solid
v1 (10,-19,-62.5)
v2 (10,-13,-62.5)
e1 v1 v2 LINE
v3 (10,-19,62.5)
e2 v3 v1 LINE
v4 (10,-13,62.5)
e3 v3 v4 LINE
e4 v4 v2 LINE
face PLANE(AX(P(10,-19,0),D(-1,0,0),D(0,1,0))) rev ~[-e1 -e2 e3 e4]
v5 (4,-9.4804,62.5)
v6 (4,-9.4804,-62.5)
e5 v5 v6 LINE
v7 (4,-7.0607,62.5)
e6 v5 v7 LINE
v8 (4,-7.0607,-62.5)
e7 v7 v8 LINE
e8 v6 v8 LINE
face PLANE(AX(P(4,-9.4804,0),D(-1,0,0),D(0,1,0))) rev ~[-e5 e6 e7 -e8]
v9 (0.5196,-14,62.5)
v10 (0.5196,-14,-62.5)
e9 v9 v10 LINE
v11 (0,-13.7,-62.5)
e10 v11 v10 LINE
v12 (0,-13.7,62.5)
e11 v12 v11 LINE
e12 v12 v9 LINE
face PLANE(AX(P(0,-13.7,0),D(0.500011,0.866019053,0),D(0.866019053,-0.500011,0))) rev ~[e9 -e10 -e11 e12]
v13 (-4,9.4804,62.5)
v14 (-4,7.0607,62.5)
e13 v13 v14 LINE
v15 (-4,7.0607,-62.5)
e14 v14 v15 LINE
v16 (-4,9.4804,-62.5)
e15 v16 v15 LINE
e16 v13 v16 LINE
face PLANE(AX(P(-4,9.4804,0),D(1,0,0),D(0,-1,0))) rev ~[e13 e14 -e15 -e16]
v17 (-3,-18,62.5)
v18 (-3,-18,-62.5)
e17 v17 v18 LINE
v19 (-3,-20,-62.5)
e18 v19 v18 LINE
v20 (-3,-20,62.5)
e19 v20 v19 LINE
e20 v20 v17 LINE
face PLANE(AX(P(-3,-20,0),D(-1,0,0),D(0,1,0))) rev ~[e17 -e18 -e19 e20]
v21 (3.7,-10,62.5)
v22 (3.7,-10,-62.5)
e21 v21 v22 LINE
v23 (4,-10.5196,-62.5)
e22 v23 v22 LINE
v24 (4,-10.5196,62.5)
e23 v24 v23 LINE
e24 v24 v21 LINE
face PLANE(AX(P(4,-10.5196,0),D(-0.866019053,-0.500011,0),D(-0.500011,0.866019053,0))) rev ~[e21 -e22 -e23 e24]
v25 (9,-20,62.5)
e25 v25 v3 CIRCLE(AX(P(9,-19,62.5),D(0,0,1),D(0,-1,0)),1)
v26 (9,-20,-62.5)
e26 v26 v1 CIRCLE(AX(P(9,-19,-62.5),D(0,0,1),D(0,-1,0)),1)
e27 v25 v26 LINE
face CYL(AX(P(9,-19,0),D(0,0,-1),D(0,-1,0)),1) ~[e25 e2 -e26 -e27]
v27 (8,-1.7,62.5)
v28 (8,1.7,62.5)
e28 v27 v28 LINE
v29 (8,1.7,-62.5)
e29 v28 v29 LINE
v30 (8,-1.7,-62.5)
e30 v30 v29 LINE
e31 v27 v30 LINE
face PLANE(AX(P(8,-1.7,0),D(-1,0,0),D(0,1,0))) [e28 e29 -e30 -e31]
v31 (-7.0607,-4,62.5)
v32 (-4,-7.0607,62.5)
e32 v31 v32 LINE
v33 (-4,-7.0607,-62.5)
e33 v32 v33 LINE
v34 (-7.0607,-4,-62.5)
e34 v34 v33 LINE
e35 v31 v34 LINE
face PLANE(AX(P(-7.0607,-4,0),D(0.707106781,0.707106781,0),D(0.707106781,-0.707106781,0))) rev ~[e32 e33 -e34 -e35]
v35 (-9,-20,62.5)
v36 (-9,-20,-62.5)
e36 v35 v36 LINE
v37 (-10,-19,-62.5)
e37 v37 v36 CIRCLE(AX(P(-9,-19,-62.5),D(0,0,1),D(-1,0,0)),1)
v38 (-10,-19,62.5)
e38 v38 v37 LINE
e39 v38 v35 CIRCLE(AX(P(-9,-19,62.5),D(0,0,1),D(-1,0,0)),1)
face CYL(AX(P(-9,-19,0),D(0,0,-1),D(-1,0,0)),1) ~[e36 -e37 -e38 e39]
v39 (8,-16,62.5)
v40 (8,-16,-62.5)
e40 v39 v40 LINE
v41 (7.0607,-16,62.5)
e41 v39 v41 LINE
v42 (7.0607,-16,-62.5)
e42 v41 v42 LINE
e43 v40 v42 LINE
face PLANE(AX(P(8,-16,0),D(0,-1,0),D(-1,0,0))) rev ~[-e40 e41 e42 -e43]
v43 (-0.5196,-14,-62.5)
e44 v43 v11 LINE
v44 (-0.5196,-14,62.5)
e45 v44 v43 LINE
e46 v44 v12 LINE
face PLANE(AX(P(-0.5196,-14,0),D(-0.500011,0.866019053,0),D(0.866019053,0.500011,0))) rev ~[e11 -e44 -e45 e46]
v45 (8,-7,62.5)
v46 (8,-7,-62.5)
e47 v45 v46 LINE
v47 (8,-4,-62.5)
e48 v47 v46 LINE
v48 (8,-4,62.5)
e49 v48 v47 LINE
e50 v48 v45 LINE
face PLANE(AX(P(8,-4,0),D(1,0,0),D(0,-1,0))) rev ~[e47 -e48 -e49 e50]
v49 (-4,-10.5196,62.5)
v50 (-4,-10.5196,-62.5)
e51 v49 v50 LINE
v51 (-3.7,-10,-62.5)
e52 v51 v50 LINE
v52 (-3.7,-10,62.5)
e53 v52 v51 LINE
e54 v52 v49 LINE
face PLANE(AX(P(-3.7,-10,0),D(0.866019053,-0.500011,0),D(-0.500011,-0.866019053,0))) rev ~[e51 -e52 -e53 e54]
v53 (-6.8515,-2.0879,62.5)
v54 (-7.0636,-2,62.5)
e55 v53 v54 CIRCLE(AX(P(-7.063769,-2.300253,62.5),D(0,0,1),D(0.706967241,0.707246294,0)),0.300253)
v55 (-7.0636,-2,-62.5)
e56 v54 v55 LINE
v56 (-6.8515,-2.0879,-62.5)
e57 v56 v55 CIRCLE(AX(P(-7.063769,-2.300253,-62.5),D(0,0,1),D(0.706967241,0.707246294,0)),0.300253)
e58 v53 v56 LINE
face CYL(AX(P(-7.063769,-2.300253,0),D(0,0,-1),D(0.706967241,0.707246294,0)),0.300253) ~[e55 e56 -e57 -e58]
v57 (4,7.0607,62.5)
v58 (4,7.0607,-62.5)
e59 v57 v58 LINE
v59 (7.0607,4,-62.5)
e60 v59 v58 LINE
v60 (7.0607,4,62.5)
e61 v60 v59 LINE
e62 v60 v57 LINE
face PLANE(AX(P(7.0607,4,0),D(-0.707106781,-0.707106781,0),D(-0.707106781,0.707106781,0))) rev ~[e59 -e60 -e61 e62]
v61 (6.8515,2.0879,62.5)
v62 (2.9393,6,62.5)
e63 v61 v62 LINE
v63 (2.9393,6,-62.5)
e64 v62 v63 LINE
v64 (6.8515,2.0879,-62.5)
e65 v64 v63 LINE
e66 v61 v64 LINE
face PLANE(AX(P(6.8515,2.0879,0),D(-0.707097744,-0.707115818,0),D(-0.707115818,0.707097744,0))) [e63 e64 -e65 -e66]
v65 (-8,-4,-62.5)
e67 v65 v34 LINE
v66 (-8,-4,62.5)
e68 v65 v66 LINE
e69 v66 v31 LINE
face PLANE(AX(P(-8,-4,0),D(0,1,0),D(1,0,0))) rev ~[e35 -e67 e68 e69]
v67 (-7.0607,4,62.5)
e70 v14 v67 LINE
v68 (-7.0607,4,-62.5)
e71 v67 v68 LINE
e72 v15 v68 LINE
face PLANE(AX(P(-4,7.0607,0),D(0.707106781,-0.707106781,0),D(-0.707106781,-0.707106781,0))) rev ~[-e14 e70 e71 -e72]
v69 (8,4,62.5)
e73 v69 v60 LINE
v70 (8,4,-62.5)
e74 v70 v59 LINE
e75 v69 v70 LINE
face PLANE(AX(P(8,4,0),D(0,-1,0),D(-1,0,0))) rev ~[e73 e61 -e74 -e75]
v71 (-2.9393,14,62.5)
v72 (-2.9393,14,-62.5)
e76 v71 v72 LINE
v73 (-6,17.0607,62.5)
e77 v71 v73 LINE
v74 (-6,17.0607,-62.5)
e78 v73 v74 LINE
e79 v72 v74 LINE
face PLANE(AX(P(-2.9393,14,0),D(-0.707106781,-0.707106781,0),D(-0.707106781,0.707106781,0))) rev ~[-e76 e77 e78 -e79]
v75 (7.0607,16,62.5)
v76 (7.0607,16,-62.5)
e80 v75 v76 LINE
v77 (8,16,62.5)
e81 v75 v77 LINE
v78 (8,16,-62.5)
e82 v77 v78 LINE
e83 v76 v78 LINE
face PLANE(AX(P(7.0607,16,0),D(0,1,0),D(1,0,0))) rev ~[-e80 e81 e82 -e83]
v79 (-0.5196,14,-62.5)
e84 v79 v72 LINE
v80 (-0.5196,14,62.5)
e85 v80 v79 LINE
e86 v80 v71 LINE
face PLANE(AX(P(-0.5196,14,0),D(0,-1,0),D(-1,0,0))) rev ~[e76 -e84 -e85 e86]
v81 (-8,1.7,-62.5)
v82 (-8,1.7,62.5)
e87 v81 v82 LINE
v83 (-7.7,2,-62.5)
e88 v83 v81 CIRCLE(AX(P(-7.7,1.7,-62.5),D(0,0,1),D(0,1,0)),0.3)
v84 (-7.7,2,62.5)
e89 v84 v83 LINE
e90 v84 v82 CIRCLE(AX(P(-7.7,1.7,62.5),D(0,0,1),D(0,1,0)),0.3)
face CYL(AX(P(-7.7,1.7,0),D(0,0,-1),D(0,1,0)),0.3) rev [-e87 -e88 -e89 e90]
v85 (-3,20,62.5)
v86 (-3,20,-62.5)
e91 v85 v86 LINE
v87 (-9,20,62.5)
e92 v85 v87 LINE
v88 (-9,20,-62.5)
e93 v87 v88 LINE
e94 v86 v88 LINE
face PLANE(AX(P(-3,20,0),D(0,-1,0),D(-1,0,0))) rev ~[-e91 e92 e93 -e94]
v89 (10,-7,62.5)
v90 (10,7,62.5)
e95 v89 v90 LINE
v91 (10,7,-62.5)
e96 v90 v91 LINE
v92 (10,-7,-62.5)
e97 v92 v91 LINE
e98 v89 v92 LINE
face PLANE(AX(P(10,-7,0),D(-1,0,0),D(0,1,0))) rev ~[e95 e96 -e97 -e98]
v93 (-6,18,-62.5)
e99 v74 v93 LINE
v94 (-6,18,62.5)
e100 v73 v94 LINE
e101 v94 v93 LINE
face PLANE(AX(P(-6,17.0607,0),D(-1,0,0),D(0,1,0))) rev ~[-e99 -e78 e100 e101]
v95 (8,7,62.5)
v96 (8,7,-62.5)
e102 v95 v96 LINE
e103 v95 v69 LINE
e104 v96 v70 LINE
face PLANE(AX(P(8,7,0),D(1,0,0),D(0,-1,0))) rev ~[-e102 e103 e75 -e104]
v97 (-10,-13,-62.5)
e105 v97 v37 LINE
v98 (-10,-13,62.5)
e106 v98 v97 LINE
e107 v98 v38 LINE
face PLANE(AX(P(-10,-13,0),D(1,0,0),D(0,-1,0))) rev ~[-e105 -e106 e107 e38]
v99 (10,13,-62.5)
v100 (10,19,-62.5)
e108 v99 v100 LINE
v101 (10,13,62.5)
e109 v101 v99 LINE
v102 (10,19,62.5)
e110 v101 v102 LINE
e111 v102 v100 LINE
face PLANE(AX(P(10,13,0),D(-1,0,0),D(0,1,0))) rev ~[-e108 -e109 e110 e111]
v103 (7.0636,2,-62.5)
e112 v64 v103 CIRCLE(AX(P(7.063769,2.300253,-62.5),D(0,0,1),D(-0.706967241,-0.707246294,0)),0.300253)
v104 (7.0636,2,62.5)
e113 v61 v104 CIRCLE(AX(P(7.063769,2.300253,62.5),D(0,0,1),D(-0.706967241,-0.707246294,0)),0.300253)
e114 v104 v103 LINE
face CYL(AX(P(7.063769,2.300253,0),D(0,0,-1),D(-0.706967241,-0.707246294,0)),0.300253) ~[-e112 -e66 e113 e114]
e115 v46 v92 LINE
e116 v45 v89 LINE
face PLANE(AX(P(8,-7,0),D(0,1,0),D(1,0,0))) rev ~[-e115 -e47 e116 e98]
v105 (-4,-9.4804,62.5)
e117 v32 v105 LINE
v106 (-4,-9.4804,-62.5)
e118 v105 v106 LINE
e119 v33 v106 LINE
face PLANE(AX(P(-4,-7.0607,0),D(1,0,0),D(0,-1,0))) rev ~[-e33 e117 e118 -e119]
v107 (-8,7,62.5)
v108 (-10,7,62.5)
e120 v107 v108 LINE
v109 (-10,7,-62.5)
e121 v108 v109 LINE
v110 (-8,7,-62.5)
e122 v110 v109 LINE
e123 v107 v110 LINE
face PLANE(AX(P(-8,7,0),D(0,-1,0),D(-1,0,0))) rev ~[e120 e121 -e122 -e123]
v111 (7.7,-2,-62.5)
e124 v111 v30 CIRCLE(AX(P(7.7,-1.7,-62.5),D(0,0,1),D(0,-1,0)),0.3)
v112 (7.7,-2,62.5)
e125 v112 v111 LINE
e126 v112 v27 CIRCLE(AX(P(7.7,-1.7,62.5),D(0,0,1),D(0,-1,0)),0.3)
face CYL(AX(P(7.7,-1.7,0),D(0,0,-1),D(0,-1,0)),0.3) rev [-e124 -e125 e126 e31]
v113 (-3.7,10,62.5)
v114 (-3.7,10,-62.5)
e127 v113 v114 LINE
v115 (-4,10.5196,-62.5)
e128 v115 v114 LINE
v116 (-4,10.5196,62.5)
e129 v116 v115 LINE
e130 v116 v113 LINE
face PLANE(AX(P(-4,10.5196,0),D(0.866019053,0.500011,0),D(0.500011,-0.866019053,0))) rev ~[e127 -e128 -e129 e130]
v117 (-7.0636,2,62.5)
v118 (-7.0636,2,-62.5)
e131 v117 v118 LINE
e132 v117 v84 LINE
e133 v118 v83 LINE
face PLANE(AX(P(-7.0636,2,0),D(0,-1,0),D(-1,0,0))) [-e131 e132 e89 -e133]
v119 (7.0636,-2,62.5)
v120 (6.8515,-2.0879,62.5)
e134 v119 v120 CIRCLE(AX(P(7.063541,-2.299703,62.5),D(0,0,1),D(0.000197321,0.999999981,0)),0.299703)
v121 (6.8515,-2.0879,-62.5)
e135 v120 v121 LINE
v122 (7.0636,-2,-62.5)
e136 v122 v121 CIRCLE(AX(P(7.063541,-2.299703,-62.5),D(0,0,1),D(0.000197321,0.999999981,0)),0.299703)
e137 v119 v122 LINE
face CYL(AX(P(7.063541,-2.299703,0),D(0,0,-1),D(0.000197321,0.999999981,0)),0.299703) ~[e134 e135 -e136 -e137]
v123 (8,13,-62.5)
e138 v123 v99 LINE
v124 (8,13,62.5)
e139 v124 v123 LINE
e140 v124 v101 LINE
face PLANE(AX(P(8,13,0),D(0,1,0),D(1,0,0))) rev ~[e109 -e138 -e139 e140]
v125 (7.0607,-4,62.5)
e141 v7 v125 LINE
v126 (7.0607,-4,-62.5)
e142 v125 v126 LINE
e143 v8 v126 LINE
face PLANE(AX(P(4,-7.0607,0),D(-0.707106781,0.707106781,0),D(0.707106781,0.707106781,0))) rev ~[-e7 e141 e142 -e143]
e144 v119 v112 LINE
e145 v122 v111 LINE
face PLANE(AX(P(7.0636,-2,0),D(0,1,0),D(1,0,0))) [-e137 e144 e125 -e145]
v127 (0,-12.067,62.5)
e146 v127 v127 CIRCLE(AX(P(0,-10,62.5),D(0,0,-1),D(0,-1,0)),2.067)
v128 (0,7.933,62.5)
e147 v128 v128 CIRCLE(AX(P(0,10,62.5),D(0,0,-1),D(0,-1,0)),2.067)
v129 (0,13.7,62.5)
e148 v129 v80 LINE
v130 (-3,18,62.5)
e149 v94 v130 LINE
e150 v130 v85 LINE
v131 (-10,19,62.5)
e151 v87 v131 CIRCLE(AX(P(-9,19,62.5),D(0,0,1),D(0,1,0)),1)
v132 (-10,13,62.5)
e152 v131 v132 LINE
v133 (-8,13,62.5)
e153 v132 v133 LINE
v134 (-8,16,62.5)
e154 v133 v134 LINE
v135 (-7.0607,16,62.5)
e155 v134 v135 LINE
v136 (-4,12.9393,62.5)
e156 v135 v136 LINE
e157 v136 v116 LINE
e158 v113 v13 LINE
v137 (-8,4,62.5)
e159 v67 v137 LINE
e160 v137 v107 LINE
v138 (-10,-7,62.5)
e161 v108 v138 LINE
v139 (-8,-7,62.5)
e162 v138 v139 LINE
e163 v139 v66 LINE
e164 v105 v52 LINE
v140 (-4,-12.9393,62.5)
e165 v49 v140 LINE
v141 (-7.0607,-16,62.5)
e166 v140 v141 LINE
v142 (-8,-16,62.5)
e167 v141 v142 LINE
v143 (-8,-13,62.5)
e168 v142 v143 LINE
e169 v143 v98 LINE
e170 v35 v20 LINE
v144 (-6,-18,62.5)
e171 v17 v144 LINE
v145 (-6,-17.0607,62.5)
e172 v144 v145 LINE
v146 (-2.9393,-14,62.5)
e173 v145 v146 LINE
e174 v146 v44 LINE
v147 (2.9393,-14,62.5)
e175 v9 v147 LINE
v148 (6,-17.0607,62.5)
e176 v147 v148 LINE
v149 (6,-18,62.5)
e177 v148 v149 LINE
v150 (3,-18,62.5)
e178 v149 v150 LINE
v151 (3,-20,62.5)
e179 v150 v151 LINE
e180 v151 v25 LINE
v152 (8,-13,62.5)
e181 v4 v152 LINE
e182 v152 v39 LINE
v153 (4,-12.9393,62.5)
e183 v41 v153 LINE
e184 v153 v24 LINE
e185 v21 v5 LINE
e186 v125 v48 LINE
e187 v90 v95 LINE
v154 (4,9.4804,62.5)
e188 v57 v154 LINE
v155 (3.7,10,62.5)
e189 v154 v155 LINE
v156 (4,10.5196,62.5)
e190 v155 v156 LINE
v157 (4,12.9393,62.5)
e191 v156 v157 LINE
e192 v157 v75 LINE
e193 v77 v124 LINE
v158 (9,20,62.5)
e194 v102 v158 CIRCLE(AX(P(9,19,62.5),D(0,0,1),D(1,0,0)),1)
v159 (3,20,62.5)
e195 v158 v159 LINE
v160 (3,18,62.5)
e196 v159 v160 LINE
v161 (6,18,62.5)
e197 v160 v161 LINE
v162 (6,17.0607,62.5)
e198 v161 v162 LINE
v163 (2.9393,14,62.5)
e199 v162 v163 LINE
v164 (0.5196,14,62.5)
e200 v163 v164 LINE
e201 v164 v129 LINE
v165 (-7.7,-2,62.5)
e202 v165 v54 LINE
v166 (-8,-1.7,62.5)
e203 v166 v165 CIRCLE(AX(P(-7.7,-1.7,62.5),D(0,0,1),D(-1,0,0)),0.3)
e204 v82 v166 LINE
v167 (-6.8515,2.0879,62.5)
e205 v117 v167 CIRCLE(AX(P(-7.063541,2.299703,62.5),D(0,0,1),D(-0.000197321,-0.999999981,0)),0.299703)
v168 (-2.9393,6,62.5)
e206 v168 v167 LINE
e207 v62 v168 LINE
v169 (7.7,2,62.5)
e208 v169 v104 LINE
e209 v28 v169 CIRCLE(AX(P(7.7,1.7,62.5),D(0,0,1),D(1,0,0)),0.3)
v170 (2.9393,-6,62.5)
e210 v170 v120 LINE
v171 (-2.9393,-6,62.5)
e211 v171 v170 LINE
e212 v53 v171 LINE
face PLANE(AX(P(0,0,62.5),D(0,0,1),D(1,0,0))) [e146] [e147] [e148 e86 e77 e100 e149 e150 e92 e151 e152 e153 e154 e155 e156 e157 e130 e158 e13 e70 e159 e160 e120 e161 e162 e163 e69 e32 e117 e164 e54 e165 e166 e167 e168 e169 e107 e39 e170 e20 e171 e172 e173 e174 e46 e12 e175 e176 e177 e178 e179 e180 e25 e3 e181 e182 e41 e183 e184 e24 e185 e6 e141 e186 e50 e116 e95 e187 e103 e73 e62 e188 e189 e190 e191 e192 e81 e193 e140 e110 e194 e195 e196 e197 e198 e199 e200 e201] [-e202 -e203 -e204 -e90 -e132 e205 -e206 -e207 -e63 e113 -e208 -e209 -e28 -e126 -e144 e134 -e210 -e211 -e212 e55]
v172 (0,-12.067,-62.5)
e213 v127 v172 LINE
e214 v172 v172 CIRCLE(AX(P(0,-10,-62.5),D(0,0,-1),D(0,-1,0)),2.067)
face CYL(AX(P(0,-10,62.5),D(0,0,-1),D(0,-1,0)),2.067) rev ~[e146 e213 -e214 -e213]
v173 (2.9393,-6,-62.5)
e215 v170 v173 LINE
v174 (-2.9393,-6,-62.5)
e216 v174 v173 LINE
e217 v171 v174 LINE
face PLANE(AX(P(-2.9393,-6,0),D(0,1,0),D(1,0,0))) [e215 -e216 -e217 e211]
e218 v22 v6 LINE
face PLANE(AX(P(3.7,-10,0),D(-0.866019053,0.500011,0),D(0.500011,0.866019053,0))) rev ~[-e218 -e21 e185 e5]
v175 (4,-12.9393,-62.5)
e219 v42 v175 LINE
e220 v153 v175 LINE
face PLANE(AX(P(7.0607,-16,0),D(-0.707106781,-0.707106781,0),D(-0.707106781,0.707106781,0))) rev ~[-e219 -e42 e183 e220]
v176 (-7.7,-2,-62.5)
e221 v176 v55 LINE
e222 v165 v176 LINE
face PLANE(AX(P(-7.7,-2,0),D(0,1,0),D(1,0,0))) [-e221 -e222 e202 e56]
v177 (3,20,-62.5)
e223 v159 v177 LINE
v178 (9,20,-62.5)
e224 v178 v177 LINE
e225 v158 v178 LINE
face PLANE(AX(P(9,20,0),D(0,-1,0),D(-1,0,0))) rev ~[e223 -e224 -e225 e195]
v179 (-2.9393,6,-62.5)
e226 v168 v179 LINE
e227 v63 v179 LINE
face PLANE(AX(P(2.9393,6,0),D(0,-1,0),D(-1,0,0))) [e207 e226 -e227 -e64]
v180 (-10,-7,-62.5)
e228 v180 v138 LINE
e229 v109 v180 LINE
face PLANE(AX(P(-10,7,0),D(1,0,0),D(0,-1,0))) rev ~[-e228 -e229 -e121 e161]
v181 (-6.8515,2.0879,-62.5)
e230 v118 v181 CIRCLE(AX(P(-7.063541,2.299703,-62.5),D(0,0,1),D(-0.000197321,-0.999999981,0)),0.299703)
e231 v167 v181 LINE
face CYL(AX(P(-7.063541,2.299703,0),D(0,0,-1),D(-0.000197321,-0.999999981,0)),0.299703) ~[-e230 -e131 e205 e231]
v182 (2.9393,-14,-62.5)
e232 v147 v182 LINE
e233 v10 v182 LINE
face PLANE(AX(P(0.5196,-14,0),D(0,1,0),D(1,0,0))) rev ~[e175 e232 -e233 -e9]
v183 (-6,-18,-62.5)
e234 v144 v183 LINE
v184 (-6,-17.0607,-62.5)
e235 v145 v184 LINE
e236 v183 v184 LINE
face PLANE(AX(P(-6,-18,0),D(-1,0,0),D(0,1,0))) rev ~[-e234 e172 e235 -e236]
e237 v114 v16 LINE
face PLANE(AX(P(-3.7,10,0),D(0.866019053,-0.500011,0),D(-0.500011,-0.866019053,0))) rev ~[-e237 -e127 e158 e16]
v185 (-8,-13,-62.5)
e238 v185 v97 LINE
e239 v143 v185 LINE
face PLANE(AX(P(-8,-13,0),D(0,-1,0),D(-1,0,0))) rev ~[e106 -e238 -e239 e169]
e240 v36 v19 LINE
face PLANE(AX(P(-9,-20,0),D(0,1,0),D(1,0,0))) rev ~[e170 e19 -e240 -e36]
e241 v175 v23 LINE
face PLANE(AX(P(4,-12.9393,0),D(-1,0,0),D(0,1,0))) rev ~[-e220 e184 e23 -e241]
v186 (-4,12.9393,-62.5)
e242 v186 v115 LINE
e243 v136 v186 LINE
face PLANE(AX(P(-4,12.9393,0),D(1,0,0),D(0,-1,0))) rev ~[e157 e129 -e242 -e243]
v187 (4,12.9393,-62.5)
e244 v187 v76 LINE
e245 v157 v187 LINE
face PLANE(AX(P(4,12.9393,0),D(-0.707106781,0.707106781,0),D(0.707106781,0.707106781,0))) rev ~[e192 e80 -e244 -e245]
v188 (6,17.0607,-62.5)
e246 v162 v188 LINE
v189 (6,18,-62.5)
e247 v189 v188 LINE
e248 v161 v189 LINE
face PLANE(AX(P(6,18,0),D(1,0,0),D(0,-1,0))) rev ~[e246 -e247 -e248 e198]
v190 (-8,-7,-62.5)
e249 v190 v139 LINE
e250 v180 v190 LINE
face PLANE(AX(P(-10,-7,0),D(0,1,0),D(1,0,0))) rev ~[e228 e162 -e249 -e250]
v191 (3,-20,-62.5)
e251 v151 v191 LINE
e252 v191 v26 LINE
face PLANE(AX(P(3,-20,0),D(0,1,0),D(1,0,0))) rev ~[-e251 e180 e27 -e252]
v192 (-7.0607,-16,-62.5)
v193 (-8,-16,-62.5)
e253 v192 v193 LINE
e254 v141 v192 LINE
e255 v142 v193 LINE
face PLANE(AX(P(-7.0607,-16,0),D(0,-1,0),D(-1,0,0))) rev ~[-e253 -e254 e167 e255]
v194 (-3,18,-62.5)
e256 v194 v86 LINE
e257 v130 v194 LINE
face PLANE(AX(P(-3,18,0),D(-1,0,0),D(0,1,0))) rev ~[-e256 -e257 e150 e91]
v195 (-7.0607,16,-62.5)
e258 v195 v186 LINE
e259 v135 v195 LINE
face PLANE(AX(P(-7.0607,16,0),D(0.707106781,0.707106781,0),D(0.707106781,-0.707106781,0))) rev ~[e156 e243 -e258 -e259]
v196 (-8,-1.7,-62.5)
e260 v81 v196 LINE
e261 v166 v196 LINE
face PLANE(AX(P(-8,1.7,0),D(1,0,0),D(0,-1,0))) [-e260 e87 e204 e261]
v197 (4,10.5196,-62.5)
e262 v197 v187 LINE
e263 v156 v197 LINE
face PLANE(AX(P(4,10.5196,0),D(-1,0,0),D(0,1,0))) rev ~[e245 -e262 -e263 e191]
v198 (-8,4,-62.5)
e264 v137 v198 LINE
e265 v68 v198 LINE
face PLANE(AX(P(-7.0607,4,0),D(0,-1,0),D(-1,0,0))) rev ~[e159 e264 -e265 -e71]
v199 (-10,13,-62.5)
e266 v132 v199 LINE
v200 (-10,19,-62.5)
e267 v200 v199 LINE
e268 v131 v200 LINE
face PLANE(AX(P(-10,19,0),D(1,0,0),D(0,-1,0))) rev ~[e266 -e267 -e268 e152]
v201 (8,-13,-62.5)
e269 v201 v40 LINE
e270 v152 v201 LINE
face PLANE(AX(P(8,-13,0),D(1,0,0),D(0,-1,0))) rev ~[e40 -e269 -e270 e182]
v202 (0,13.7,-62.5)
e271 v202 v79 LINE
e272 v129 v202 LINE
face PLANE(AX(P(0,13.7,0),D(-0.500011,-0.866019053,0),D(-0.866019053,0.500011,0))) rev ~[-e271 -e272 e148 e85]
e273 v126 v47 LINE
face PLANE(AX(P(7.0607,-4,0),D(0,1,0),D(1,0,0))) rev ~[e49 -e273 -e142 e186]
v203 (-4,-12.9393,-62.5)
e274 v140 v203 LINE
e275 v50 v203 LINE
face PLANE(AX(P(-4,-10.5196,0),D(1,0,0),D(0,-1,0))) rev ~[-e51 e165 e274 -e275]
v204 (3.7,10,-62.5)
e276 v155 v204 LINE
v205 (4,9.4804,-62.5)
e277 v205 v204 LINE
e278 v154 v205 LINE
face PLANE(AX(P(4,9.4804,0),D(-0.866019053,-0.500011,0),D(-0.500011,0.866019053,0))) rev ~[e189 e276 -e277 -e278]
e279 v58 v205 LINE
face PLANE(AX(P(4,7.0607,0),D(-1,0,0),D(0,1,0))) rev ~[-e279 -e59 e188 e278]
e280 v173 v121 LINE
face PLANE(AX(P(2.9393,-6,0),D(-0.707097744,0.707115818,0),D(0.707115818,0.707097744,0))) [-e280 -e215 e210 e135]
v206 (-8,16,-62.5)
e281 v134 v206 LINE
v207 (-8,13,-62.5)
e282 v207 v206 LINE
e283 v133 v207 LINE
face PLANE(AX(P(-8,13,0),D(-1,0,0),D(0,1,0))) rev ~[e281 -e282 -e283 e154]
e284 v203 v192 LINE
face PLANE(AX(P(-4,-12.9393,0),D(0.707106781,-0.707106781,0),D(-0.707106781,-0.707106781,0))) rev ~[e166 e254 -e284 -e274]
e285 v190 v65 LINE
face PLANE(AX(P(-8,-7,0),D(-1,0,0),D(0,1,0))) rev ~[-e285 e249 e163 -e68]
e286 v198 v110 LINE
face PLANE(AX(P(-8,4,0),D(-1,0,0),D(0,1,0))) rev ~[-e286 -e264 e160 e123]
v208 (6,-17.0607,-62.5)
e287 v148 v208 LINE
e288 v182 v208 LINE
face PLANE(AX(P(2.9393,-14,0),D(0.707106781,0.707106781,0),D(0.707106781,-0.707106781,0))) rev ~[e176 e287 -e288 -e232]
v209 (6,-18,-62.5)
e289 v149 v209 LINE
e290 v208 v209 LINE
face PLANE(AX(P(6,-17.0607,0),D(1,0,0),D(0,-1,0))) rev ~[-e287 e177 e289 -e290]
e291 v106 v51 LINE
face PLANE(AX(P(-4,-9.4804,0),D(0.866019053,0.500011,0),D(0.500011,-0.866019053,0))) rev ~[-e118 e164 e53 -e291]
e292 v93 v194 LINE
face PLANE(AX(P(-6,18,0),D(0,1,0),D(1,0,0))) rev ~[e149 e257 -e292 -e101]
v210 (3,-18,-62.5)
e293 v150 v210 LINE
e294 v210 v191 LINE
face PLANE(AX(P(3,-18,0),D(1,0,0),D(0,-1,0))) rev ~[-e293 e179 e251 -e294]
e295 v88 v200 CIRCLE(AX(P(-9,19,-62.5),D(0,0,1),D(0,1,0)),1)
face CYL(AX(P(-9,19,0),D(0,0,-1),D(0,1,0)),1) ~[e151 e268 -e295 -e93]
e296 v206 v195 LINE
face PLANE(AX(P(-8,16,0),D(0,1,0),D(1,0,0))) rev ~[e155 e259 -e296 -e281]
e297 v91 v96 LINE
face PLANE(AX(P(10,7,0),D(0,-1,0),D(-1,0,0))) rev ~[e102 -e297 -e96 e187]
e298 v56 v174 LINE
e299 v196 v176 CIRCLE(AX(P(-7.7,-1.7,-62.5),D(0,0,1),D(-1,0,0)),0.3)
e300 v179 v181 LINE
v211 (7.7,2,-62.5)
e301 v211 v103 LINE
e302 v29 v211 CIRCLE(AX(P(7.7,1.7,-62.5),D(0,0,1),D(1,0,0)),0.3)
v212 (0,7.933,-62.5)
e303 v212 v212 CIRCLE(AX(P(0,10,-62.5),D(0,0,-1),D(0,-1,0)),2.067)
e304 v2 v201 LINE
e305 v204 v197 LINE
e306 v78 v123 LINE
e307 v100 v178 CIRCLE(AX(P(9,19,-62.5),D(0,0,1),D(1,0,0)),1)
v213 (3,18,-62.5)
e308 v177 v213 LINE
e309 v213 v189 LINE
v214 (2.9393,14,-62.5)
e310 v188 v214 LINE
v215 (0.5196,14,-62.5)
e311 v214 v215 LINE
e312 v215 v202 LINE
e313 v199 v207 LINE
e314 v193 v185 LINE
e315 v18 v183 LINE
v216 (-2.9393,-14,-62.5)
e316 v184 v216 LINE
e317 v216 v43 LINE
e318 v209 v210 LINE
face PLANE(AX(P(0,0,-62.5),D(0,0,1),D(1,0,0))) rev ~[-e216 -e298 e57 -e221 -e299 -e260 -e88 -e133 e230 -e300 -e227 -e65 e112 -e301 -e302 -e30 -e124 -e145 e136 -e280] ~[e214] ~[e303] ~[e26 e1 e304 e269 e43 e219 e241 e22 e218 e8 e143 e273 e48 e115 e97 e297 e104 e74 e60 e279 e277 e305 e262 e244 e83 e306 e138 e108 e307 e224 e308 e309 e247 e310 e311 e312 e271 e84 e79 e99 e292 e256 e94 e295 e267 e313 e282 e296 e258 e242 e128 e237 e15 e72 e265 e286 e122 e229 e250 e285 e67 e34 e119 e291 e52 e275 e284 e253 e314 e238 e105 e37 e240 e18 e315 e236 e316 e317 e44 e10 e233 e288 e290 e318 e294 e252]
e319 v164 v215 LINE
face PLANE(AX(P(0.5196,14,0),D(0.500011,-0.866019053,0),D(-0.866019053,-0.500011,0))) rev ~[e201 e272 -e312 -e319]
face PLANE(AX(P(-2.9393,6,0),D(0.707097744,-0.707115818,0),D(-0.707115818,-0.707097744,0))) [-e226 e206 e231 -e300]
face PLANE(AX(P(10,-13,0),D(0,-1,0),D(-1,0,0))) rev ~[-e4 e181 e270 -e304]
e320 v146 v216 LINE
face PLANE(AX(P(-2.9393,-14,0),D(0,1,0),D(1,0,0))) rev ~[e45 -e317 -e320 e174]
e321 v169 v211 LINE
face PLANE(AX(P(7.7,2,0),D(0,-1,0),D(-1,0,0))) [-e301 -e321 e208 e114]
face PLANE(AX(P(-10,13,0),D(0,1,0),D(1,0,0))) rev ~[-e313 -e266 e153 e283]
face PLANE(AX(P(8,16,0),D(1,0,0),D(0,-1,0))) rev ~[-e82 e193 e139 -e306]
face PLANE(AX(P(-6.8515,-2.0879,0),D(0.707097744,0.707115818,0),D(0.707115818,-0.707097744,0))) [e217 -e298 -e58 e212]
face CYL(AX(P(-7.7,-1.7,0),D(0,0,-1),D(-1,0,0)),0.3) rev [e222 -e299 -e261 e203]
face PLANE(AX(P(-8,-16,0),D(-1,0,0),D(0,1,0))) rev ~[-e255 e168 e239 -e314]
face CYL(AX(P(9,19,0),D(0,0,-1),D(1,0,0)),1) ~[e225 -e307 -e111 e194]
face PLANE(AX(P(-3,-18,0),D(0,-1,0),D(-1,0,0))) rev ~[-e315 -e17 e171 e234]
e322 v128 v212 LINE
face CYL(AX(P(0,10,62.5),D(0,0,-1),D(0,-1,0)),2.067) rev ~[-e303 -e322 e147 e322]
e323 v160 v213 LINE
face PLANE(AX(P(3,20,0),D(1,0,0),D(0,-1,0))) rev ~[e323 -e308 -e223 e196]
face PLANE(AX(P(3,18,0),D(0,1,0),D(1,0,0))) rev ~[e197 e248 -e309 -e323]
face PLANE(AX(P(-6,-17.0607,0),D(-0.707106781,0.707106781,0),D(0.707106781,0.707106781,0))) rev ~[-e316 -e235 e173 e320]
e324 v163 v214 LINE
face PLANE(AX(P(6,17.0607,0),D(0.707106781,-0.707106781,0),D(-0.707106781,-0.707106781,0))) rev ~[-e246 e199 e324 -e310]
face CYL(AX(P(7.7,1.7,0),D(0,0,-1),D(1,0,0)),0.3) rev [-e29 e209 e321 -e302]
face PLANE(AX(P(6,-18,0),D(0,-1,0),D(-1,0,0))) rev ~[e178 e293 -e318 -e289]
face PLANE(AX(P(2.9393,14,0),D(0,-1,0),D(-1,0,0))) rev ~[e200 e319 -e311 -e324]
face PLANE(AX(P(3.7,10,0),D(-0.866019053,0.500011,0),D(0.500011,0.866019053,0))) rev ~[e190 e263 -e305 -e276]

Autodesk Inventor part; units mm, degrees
sketch "Sketch_1" plane through (0, 0, 0) normal (0, 0, 1) x (1, 0, 0)
  line L0 (-10, -7) -> (-8, -7)
  line L1 (-8, -7) -> (-8, -4)
  line L2 (-8, -4) -> (-7.0607, -4)
  line L3 (-7.0607, -4) -> (-4, -7.0607)
  line L4 (-4, -7.0607) -> (-4, -9.4804)
  line L5 (-4, -9.4804) -> (-3.7, -10)
  line L6 (-3.7, -10) -> (-4, -10.5196)
  line L7 (-4, -10.5196) -> (-4, -12.9393)
  line L8 (-4, -12.9393) -> (-7.0607, -16)
  line L9 (-7.0607, -16) -> (-8, -16)
  line L10 (-8, -16) -> (-8, -13)
  line L11 (-8, -13) -> (-10, -13)
  line L12 (-10, -13) -> (-10, -19)
  arc A0 (-10, -19) -> (-9, -20) centre (-9, -19) ccw
  line L13 (-9, -20) -> (-3, -20)
  line L14 (-3, -20) -> (-3, -18)
  line L15 (-3, -18) -> (-6, -18)
  line L16 (-6, -18) -> (-6, -17.0607)
  line L17 (-6, -17.0607) -> (-2.9393, -14)
  line L18 (-2.9393, -14) -> (-0.5196, -14)
  line L19 (-0.5196, -14) -> (0, -13.7)
  line L20 (0, -13.7) -> (0.5196, -14)
  line L21 (0.5196, -14) -> (2.9393, -14)
  line L22 (2.9393, -14) -> (6, -17.0607)
  line L23 (6, -17.0607) -> (6, -18)
  line L24 (6, -18) -> (3, -18)
  line L25 (3, -18) -> (3, -20)
  line L26 (3, -20) -> (9, -20)
  arc A1 (9, -20) -> (10, -19) centre (9, -19) ccw
  line L27 (10, -19) -> (10, -13)
  line L28 (10, -13) -> (8, -13)
  line L29 (8, -13) -> (8, -16)
  line L30 (8, -16) -> (7.0607, -16)
  line L31 (7.0607, -16) -> (4, -12.9393)
  line L32 (4, -12.9393) -> (4, -10.5196)
  line L33 (4, -10.5196) -> (3.7, -10)
  line L34 (3.7, -10) -> (4, -9.4804)
  line L35 (4, -9.4804) -> (4, -7.0607)
  line L36 (4, -7.0607) -> (7.0607, -4)
  line L37 (7.0607, -4) -> (8, -4)
  line L38 (8, -4) -> (8, -7)
  line L39 (8, -7) -> (10, -7)
  line L40 (10, -7) -> (10, 7)
  line L41 (10, 7) -> (8, 7)
  line L42 (8, 7) -> (8, 4)
  line L43 (8, 4) -> (7.0607, 4)
  line L44 (7.0607, 4) -> (4, 7.0607)
  line L45 (4, 7.0607) -> (4, 9.4804)
  line L46 (4, 9.4804) -> (3.7, 10)
  line L47 (3.7, 10) -> (4, 10.5196)
  line L48 (4, 10.5196) -> (4, 12.9393)
  line L49 (4, 12.9393) -> (7.0607, 16)
  line L50 (7.0607, 16) -> (8, 16)
  line L51 (8, 16) -> (8, 13)
  line L52 (8, 13) -> (10, 13)
  line L53 (10, 13) -> (10, 19)
  arc A2 (10, 19) -> (9, 20) centre (9, 19) ccw
  line L54 (9, 20) -> (3, 20)
  line L55 (3, 20) -> (3, 18)
  line L56 (3, 18) -> (6, 18)
  line L57 (6, 18) -> (6, 17.0607)
  line L58 (6, 17.0607) -> (2.9393, 14)
  line L59 (2.9393, 14) -> (0.5196, 14)
  line L60 (0.5196, 14) -> (0, 13.7)
  line L61 (0, 13.7) -> (-0.5196, 14)
  line L62 (-0.5196, 14) -> (-2.9393, 14)
  line L63 (-2.9393, 14) -> (-6, 17.0607)
  line L64 (-6, 17.0607) -> (-6, 18)
  line L65 (-6, 18) -> (-3, 18)
  line L66 (-3, 18) -> (-3, 20)
  line L67 (-3, 20) -> (-9, 20)
  arc A3 (-9, 20) -> (-10, 19) centre (-9, 19) ccw
  line L68 (-10, 19) -> (-10, 13)
  line L69 (-10, 13) -> (-8, 13)
  line L70 (-8, 13) -> (-8, 16)
  line L71 (-8, 16) -> (-7.0607, 16)
  line L72 (-7.0607, 16) -> (-4, 12.9393)
  line L73 (-4, 12.9393) -> (-4, 10.5196)
  line L74 (-4, 10.5196) -> (-3.7, 10)
  line L75 (-3.7, 10) -> (-4, 9.4804)
  line L76 (-4, 9.4804) -> (-4, 7.0607)
  line L77 (-4, 7.0607) -> (-7.0607, 4)
  line L78 (-7.0607, 4) -> (-8, 4)
  line L79 (-8, 4) -> (-8, 7)
  line L80 (-8, 7) -> (-10, 7)
  line L81 (-10, 7) -> (-10, -7)
  line L82 (-8, 1.7) -> (-8, -1.7)
  arc A4 (-8, -1.7) -> (-7.7, -2) centre (-7.7, -1.7) ccw
  line L83 (-7.7, -2) -> (-7.0636, -2)
  arc A5 (-6.8515, -2.0879) -> (-7.0636, -2) centre (-7.0636, -2.3) ccw
  line L84 (-6.8515, -2.0879) -> (-2.9393, -6)
  line L85 (-2.9393, -6) -> (2.9393, -6)
  line L86 (2.9393, -6) -> (6.8515, -2.0879)
  arc A6 (7.0636, -2) -> (6.8515, -2.0879) centre (7.0636, -2.3) ccw
  line L87 (7.0636, -2) -> (7.7, -2)
  arc A7 (7.7, -2) -> (8, -1.7) centre (7.7, -1.7) ccw
  line L88 (8, -1.7) -> (8, 1.7)
  arc A8 (8, 1.7) -> (7.7, 2) centre (7.7, 1.7) ccw
  line L89 (7.7, 2) -> (7.0636, 2)
  arc A9 (6.8515, 2.0879) -> (7.0636, 2) centre (7.0636, 2.3) ccw
  line L90 (6.8515, 2.0879) -> (2.9393, 6)
  line L91 (2.9393, 6) -> (-2.9393, 6)
  line L92 (-2.9393, 6) -> (-6.8515, 2.0879)
  arc A10 (-7.0636, 2) -> (-6.8515, 2.0879) centre (-7.0636, 2.3) ccw
  line L93 (-7.0636, 2) -> (-7.7, 2)
  arc A11 (-7.7, 2) -> (-8, 1.7) centre (-7.7, 1.7) ccw
extrude "Extrusion1" add sketch "Sketch_1" along normal mid plane 125
sketch "Sketch2" plane through (0, 0, 62.5) normal (0, 0, 1) x (-1, 0, 0)
  point P0 (0, 10)
hole "Hole1" at (0, -10, 62.5) direction (0, 0, -1) diameter 4.134 end through all thread size "M5x0.8" class "6H" standard "ANSI Metric M Profile"
pattern_linear "Rectangular Pattern1" count 2 spacing 20 along (0, 1, 0) of "Hole1"
ref_plane "C1_XY" through (0, 0, 0) normal (0, 0, 1) x (1, 0, 0)
ref_plane "C1_YZ" through (0, 0, 0) normal (1, 0, 0) x (0, 1, 0)
ref_plane "C1_ZX" through (0, 0, 0) normal (0, 1, 0) x (0, 0, 1)
mirror "Mirror1" about plane through (0, 0, 0) normal (0, 0, 1) of "Hole1", "Rectangular Pattern1"
properties part number "2040 Z-Rail Brace" material "Aluminum 6061"
